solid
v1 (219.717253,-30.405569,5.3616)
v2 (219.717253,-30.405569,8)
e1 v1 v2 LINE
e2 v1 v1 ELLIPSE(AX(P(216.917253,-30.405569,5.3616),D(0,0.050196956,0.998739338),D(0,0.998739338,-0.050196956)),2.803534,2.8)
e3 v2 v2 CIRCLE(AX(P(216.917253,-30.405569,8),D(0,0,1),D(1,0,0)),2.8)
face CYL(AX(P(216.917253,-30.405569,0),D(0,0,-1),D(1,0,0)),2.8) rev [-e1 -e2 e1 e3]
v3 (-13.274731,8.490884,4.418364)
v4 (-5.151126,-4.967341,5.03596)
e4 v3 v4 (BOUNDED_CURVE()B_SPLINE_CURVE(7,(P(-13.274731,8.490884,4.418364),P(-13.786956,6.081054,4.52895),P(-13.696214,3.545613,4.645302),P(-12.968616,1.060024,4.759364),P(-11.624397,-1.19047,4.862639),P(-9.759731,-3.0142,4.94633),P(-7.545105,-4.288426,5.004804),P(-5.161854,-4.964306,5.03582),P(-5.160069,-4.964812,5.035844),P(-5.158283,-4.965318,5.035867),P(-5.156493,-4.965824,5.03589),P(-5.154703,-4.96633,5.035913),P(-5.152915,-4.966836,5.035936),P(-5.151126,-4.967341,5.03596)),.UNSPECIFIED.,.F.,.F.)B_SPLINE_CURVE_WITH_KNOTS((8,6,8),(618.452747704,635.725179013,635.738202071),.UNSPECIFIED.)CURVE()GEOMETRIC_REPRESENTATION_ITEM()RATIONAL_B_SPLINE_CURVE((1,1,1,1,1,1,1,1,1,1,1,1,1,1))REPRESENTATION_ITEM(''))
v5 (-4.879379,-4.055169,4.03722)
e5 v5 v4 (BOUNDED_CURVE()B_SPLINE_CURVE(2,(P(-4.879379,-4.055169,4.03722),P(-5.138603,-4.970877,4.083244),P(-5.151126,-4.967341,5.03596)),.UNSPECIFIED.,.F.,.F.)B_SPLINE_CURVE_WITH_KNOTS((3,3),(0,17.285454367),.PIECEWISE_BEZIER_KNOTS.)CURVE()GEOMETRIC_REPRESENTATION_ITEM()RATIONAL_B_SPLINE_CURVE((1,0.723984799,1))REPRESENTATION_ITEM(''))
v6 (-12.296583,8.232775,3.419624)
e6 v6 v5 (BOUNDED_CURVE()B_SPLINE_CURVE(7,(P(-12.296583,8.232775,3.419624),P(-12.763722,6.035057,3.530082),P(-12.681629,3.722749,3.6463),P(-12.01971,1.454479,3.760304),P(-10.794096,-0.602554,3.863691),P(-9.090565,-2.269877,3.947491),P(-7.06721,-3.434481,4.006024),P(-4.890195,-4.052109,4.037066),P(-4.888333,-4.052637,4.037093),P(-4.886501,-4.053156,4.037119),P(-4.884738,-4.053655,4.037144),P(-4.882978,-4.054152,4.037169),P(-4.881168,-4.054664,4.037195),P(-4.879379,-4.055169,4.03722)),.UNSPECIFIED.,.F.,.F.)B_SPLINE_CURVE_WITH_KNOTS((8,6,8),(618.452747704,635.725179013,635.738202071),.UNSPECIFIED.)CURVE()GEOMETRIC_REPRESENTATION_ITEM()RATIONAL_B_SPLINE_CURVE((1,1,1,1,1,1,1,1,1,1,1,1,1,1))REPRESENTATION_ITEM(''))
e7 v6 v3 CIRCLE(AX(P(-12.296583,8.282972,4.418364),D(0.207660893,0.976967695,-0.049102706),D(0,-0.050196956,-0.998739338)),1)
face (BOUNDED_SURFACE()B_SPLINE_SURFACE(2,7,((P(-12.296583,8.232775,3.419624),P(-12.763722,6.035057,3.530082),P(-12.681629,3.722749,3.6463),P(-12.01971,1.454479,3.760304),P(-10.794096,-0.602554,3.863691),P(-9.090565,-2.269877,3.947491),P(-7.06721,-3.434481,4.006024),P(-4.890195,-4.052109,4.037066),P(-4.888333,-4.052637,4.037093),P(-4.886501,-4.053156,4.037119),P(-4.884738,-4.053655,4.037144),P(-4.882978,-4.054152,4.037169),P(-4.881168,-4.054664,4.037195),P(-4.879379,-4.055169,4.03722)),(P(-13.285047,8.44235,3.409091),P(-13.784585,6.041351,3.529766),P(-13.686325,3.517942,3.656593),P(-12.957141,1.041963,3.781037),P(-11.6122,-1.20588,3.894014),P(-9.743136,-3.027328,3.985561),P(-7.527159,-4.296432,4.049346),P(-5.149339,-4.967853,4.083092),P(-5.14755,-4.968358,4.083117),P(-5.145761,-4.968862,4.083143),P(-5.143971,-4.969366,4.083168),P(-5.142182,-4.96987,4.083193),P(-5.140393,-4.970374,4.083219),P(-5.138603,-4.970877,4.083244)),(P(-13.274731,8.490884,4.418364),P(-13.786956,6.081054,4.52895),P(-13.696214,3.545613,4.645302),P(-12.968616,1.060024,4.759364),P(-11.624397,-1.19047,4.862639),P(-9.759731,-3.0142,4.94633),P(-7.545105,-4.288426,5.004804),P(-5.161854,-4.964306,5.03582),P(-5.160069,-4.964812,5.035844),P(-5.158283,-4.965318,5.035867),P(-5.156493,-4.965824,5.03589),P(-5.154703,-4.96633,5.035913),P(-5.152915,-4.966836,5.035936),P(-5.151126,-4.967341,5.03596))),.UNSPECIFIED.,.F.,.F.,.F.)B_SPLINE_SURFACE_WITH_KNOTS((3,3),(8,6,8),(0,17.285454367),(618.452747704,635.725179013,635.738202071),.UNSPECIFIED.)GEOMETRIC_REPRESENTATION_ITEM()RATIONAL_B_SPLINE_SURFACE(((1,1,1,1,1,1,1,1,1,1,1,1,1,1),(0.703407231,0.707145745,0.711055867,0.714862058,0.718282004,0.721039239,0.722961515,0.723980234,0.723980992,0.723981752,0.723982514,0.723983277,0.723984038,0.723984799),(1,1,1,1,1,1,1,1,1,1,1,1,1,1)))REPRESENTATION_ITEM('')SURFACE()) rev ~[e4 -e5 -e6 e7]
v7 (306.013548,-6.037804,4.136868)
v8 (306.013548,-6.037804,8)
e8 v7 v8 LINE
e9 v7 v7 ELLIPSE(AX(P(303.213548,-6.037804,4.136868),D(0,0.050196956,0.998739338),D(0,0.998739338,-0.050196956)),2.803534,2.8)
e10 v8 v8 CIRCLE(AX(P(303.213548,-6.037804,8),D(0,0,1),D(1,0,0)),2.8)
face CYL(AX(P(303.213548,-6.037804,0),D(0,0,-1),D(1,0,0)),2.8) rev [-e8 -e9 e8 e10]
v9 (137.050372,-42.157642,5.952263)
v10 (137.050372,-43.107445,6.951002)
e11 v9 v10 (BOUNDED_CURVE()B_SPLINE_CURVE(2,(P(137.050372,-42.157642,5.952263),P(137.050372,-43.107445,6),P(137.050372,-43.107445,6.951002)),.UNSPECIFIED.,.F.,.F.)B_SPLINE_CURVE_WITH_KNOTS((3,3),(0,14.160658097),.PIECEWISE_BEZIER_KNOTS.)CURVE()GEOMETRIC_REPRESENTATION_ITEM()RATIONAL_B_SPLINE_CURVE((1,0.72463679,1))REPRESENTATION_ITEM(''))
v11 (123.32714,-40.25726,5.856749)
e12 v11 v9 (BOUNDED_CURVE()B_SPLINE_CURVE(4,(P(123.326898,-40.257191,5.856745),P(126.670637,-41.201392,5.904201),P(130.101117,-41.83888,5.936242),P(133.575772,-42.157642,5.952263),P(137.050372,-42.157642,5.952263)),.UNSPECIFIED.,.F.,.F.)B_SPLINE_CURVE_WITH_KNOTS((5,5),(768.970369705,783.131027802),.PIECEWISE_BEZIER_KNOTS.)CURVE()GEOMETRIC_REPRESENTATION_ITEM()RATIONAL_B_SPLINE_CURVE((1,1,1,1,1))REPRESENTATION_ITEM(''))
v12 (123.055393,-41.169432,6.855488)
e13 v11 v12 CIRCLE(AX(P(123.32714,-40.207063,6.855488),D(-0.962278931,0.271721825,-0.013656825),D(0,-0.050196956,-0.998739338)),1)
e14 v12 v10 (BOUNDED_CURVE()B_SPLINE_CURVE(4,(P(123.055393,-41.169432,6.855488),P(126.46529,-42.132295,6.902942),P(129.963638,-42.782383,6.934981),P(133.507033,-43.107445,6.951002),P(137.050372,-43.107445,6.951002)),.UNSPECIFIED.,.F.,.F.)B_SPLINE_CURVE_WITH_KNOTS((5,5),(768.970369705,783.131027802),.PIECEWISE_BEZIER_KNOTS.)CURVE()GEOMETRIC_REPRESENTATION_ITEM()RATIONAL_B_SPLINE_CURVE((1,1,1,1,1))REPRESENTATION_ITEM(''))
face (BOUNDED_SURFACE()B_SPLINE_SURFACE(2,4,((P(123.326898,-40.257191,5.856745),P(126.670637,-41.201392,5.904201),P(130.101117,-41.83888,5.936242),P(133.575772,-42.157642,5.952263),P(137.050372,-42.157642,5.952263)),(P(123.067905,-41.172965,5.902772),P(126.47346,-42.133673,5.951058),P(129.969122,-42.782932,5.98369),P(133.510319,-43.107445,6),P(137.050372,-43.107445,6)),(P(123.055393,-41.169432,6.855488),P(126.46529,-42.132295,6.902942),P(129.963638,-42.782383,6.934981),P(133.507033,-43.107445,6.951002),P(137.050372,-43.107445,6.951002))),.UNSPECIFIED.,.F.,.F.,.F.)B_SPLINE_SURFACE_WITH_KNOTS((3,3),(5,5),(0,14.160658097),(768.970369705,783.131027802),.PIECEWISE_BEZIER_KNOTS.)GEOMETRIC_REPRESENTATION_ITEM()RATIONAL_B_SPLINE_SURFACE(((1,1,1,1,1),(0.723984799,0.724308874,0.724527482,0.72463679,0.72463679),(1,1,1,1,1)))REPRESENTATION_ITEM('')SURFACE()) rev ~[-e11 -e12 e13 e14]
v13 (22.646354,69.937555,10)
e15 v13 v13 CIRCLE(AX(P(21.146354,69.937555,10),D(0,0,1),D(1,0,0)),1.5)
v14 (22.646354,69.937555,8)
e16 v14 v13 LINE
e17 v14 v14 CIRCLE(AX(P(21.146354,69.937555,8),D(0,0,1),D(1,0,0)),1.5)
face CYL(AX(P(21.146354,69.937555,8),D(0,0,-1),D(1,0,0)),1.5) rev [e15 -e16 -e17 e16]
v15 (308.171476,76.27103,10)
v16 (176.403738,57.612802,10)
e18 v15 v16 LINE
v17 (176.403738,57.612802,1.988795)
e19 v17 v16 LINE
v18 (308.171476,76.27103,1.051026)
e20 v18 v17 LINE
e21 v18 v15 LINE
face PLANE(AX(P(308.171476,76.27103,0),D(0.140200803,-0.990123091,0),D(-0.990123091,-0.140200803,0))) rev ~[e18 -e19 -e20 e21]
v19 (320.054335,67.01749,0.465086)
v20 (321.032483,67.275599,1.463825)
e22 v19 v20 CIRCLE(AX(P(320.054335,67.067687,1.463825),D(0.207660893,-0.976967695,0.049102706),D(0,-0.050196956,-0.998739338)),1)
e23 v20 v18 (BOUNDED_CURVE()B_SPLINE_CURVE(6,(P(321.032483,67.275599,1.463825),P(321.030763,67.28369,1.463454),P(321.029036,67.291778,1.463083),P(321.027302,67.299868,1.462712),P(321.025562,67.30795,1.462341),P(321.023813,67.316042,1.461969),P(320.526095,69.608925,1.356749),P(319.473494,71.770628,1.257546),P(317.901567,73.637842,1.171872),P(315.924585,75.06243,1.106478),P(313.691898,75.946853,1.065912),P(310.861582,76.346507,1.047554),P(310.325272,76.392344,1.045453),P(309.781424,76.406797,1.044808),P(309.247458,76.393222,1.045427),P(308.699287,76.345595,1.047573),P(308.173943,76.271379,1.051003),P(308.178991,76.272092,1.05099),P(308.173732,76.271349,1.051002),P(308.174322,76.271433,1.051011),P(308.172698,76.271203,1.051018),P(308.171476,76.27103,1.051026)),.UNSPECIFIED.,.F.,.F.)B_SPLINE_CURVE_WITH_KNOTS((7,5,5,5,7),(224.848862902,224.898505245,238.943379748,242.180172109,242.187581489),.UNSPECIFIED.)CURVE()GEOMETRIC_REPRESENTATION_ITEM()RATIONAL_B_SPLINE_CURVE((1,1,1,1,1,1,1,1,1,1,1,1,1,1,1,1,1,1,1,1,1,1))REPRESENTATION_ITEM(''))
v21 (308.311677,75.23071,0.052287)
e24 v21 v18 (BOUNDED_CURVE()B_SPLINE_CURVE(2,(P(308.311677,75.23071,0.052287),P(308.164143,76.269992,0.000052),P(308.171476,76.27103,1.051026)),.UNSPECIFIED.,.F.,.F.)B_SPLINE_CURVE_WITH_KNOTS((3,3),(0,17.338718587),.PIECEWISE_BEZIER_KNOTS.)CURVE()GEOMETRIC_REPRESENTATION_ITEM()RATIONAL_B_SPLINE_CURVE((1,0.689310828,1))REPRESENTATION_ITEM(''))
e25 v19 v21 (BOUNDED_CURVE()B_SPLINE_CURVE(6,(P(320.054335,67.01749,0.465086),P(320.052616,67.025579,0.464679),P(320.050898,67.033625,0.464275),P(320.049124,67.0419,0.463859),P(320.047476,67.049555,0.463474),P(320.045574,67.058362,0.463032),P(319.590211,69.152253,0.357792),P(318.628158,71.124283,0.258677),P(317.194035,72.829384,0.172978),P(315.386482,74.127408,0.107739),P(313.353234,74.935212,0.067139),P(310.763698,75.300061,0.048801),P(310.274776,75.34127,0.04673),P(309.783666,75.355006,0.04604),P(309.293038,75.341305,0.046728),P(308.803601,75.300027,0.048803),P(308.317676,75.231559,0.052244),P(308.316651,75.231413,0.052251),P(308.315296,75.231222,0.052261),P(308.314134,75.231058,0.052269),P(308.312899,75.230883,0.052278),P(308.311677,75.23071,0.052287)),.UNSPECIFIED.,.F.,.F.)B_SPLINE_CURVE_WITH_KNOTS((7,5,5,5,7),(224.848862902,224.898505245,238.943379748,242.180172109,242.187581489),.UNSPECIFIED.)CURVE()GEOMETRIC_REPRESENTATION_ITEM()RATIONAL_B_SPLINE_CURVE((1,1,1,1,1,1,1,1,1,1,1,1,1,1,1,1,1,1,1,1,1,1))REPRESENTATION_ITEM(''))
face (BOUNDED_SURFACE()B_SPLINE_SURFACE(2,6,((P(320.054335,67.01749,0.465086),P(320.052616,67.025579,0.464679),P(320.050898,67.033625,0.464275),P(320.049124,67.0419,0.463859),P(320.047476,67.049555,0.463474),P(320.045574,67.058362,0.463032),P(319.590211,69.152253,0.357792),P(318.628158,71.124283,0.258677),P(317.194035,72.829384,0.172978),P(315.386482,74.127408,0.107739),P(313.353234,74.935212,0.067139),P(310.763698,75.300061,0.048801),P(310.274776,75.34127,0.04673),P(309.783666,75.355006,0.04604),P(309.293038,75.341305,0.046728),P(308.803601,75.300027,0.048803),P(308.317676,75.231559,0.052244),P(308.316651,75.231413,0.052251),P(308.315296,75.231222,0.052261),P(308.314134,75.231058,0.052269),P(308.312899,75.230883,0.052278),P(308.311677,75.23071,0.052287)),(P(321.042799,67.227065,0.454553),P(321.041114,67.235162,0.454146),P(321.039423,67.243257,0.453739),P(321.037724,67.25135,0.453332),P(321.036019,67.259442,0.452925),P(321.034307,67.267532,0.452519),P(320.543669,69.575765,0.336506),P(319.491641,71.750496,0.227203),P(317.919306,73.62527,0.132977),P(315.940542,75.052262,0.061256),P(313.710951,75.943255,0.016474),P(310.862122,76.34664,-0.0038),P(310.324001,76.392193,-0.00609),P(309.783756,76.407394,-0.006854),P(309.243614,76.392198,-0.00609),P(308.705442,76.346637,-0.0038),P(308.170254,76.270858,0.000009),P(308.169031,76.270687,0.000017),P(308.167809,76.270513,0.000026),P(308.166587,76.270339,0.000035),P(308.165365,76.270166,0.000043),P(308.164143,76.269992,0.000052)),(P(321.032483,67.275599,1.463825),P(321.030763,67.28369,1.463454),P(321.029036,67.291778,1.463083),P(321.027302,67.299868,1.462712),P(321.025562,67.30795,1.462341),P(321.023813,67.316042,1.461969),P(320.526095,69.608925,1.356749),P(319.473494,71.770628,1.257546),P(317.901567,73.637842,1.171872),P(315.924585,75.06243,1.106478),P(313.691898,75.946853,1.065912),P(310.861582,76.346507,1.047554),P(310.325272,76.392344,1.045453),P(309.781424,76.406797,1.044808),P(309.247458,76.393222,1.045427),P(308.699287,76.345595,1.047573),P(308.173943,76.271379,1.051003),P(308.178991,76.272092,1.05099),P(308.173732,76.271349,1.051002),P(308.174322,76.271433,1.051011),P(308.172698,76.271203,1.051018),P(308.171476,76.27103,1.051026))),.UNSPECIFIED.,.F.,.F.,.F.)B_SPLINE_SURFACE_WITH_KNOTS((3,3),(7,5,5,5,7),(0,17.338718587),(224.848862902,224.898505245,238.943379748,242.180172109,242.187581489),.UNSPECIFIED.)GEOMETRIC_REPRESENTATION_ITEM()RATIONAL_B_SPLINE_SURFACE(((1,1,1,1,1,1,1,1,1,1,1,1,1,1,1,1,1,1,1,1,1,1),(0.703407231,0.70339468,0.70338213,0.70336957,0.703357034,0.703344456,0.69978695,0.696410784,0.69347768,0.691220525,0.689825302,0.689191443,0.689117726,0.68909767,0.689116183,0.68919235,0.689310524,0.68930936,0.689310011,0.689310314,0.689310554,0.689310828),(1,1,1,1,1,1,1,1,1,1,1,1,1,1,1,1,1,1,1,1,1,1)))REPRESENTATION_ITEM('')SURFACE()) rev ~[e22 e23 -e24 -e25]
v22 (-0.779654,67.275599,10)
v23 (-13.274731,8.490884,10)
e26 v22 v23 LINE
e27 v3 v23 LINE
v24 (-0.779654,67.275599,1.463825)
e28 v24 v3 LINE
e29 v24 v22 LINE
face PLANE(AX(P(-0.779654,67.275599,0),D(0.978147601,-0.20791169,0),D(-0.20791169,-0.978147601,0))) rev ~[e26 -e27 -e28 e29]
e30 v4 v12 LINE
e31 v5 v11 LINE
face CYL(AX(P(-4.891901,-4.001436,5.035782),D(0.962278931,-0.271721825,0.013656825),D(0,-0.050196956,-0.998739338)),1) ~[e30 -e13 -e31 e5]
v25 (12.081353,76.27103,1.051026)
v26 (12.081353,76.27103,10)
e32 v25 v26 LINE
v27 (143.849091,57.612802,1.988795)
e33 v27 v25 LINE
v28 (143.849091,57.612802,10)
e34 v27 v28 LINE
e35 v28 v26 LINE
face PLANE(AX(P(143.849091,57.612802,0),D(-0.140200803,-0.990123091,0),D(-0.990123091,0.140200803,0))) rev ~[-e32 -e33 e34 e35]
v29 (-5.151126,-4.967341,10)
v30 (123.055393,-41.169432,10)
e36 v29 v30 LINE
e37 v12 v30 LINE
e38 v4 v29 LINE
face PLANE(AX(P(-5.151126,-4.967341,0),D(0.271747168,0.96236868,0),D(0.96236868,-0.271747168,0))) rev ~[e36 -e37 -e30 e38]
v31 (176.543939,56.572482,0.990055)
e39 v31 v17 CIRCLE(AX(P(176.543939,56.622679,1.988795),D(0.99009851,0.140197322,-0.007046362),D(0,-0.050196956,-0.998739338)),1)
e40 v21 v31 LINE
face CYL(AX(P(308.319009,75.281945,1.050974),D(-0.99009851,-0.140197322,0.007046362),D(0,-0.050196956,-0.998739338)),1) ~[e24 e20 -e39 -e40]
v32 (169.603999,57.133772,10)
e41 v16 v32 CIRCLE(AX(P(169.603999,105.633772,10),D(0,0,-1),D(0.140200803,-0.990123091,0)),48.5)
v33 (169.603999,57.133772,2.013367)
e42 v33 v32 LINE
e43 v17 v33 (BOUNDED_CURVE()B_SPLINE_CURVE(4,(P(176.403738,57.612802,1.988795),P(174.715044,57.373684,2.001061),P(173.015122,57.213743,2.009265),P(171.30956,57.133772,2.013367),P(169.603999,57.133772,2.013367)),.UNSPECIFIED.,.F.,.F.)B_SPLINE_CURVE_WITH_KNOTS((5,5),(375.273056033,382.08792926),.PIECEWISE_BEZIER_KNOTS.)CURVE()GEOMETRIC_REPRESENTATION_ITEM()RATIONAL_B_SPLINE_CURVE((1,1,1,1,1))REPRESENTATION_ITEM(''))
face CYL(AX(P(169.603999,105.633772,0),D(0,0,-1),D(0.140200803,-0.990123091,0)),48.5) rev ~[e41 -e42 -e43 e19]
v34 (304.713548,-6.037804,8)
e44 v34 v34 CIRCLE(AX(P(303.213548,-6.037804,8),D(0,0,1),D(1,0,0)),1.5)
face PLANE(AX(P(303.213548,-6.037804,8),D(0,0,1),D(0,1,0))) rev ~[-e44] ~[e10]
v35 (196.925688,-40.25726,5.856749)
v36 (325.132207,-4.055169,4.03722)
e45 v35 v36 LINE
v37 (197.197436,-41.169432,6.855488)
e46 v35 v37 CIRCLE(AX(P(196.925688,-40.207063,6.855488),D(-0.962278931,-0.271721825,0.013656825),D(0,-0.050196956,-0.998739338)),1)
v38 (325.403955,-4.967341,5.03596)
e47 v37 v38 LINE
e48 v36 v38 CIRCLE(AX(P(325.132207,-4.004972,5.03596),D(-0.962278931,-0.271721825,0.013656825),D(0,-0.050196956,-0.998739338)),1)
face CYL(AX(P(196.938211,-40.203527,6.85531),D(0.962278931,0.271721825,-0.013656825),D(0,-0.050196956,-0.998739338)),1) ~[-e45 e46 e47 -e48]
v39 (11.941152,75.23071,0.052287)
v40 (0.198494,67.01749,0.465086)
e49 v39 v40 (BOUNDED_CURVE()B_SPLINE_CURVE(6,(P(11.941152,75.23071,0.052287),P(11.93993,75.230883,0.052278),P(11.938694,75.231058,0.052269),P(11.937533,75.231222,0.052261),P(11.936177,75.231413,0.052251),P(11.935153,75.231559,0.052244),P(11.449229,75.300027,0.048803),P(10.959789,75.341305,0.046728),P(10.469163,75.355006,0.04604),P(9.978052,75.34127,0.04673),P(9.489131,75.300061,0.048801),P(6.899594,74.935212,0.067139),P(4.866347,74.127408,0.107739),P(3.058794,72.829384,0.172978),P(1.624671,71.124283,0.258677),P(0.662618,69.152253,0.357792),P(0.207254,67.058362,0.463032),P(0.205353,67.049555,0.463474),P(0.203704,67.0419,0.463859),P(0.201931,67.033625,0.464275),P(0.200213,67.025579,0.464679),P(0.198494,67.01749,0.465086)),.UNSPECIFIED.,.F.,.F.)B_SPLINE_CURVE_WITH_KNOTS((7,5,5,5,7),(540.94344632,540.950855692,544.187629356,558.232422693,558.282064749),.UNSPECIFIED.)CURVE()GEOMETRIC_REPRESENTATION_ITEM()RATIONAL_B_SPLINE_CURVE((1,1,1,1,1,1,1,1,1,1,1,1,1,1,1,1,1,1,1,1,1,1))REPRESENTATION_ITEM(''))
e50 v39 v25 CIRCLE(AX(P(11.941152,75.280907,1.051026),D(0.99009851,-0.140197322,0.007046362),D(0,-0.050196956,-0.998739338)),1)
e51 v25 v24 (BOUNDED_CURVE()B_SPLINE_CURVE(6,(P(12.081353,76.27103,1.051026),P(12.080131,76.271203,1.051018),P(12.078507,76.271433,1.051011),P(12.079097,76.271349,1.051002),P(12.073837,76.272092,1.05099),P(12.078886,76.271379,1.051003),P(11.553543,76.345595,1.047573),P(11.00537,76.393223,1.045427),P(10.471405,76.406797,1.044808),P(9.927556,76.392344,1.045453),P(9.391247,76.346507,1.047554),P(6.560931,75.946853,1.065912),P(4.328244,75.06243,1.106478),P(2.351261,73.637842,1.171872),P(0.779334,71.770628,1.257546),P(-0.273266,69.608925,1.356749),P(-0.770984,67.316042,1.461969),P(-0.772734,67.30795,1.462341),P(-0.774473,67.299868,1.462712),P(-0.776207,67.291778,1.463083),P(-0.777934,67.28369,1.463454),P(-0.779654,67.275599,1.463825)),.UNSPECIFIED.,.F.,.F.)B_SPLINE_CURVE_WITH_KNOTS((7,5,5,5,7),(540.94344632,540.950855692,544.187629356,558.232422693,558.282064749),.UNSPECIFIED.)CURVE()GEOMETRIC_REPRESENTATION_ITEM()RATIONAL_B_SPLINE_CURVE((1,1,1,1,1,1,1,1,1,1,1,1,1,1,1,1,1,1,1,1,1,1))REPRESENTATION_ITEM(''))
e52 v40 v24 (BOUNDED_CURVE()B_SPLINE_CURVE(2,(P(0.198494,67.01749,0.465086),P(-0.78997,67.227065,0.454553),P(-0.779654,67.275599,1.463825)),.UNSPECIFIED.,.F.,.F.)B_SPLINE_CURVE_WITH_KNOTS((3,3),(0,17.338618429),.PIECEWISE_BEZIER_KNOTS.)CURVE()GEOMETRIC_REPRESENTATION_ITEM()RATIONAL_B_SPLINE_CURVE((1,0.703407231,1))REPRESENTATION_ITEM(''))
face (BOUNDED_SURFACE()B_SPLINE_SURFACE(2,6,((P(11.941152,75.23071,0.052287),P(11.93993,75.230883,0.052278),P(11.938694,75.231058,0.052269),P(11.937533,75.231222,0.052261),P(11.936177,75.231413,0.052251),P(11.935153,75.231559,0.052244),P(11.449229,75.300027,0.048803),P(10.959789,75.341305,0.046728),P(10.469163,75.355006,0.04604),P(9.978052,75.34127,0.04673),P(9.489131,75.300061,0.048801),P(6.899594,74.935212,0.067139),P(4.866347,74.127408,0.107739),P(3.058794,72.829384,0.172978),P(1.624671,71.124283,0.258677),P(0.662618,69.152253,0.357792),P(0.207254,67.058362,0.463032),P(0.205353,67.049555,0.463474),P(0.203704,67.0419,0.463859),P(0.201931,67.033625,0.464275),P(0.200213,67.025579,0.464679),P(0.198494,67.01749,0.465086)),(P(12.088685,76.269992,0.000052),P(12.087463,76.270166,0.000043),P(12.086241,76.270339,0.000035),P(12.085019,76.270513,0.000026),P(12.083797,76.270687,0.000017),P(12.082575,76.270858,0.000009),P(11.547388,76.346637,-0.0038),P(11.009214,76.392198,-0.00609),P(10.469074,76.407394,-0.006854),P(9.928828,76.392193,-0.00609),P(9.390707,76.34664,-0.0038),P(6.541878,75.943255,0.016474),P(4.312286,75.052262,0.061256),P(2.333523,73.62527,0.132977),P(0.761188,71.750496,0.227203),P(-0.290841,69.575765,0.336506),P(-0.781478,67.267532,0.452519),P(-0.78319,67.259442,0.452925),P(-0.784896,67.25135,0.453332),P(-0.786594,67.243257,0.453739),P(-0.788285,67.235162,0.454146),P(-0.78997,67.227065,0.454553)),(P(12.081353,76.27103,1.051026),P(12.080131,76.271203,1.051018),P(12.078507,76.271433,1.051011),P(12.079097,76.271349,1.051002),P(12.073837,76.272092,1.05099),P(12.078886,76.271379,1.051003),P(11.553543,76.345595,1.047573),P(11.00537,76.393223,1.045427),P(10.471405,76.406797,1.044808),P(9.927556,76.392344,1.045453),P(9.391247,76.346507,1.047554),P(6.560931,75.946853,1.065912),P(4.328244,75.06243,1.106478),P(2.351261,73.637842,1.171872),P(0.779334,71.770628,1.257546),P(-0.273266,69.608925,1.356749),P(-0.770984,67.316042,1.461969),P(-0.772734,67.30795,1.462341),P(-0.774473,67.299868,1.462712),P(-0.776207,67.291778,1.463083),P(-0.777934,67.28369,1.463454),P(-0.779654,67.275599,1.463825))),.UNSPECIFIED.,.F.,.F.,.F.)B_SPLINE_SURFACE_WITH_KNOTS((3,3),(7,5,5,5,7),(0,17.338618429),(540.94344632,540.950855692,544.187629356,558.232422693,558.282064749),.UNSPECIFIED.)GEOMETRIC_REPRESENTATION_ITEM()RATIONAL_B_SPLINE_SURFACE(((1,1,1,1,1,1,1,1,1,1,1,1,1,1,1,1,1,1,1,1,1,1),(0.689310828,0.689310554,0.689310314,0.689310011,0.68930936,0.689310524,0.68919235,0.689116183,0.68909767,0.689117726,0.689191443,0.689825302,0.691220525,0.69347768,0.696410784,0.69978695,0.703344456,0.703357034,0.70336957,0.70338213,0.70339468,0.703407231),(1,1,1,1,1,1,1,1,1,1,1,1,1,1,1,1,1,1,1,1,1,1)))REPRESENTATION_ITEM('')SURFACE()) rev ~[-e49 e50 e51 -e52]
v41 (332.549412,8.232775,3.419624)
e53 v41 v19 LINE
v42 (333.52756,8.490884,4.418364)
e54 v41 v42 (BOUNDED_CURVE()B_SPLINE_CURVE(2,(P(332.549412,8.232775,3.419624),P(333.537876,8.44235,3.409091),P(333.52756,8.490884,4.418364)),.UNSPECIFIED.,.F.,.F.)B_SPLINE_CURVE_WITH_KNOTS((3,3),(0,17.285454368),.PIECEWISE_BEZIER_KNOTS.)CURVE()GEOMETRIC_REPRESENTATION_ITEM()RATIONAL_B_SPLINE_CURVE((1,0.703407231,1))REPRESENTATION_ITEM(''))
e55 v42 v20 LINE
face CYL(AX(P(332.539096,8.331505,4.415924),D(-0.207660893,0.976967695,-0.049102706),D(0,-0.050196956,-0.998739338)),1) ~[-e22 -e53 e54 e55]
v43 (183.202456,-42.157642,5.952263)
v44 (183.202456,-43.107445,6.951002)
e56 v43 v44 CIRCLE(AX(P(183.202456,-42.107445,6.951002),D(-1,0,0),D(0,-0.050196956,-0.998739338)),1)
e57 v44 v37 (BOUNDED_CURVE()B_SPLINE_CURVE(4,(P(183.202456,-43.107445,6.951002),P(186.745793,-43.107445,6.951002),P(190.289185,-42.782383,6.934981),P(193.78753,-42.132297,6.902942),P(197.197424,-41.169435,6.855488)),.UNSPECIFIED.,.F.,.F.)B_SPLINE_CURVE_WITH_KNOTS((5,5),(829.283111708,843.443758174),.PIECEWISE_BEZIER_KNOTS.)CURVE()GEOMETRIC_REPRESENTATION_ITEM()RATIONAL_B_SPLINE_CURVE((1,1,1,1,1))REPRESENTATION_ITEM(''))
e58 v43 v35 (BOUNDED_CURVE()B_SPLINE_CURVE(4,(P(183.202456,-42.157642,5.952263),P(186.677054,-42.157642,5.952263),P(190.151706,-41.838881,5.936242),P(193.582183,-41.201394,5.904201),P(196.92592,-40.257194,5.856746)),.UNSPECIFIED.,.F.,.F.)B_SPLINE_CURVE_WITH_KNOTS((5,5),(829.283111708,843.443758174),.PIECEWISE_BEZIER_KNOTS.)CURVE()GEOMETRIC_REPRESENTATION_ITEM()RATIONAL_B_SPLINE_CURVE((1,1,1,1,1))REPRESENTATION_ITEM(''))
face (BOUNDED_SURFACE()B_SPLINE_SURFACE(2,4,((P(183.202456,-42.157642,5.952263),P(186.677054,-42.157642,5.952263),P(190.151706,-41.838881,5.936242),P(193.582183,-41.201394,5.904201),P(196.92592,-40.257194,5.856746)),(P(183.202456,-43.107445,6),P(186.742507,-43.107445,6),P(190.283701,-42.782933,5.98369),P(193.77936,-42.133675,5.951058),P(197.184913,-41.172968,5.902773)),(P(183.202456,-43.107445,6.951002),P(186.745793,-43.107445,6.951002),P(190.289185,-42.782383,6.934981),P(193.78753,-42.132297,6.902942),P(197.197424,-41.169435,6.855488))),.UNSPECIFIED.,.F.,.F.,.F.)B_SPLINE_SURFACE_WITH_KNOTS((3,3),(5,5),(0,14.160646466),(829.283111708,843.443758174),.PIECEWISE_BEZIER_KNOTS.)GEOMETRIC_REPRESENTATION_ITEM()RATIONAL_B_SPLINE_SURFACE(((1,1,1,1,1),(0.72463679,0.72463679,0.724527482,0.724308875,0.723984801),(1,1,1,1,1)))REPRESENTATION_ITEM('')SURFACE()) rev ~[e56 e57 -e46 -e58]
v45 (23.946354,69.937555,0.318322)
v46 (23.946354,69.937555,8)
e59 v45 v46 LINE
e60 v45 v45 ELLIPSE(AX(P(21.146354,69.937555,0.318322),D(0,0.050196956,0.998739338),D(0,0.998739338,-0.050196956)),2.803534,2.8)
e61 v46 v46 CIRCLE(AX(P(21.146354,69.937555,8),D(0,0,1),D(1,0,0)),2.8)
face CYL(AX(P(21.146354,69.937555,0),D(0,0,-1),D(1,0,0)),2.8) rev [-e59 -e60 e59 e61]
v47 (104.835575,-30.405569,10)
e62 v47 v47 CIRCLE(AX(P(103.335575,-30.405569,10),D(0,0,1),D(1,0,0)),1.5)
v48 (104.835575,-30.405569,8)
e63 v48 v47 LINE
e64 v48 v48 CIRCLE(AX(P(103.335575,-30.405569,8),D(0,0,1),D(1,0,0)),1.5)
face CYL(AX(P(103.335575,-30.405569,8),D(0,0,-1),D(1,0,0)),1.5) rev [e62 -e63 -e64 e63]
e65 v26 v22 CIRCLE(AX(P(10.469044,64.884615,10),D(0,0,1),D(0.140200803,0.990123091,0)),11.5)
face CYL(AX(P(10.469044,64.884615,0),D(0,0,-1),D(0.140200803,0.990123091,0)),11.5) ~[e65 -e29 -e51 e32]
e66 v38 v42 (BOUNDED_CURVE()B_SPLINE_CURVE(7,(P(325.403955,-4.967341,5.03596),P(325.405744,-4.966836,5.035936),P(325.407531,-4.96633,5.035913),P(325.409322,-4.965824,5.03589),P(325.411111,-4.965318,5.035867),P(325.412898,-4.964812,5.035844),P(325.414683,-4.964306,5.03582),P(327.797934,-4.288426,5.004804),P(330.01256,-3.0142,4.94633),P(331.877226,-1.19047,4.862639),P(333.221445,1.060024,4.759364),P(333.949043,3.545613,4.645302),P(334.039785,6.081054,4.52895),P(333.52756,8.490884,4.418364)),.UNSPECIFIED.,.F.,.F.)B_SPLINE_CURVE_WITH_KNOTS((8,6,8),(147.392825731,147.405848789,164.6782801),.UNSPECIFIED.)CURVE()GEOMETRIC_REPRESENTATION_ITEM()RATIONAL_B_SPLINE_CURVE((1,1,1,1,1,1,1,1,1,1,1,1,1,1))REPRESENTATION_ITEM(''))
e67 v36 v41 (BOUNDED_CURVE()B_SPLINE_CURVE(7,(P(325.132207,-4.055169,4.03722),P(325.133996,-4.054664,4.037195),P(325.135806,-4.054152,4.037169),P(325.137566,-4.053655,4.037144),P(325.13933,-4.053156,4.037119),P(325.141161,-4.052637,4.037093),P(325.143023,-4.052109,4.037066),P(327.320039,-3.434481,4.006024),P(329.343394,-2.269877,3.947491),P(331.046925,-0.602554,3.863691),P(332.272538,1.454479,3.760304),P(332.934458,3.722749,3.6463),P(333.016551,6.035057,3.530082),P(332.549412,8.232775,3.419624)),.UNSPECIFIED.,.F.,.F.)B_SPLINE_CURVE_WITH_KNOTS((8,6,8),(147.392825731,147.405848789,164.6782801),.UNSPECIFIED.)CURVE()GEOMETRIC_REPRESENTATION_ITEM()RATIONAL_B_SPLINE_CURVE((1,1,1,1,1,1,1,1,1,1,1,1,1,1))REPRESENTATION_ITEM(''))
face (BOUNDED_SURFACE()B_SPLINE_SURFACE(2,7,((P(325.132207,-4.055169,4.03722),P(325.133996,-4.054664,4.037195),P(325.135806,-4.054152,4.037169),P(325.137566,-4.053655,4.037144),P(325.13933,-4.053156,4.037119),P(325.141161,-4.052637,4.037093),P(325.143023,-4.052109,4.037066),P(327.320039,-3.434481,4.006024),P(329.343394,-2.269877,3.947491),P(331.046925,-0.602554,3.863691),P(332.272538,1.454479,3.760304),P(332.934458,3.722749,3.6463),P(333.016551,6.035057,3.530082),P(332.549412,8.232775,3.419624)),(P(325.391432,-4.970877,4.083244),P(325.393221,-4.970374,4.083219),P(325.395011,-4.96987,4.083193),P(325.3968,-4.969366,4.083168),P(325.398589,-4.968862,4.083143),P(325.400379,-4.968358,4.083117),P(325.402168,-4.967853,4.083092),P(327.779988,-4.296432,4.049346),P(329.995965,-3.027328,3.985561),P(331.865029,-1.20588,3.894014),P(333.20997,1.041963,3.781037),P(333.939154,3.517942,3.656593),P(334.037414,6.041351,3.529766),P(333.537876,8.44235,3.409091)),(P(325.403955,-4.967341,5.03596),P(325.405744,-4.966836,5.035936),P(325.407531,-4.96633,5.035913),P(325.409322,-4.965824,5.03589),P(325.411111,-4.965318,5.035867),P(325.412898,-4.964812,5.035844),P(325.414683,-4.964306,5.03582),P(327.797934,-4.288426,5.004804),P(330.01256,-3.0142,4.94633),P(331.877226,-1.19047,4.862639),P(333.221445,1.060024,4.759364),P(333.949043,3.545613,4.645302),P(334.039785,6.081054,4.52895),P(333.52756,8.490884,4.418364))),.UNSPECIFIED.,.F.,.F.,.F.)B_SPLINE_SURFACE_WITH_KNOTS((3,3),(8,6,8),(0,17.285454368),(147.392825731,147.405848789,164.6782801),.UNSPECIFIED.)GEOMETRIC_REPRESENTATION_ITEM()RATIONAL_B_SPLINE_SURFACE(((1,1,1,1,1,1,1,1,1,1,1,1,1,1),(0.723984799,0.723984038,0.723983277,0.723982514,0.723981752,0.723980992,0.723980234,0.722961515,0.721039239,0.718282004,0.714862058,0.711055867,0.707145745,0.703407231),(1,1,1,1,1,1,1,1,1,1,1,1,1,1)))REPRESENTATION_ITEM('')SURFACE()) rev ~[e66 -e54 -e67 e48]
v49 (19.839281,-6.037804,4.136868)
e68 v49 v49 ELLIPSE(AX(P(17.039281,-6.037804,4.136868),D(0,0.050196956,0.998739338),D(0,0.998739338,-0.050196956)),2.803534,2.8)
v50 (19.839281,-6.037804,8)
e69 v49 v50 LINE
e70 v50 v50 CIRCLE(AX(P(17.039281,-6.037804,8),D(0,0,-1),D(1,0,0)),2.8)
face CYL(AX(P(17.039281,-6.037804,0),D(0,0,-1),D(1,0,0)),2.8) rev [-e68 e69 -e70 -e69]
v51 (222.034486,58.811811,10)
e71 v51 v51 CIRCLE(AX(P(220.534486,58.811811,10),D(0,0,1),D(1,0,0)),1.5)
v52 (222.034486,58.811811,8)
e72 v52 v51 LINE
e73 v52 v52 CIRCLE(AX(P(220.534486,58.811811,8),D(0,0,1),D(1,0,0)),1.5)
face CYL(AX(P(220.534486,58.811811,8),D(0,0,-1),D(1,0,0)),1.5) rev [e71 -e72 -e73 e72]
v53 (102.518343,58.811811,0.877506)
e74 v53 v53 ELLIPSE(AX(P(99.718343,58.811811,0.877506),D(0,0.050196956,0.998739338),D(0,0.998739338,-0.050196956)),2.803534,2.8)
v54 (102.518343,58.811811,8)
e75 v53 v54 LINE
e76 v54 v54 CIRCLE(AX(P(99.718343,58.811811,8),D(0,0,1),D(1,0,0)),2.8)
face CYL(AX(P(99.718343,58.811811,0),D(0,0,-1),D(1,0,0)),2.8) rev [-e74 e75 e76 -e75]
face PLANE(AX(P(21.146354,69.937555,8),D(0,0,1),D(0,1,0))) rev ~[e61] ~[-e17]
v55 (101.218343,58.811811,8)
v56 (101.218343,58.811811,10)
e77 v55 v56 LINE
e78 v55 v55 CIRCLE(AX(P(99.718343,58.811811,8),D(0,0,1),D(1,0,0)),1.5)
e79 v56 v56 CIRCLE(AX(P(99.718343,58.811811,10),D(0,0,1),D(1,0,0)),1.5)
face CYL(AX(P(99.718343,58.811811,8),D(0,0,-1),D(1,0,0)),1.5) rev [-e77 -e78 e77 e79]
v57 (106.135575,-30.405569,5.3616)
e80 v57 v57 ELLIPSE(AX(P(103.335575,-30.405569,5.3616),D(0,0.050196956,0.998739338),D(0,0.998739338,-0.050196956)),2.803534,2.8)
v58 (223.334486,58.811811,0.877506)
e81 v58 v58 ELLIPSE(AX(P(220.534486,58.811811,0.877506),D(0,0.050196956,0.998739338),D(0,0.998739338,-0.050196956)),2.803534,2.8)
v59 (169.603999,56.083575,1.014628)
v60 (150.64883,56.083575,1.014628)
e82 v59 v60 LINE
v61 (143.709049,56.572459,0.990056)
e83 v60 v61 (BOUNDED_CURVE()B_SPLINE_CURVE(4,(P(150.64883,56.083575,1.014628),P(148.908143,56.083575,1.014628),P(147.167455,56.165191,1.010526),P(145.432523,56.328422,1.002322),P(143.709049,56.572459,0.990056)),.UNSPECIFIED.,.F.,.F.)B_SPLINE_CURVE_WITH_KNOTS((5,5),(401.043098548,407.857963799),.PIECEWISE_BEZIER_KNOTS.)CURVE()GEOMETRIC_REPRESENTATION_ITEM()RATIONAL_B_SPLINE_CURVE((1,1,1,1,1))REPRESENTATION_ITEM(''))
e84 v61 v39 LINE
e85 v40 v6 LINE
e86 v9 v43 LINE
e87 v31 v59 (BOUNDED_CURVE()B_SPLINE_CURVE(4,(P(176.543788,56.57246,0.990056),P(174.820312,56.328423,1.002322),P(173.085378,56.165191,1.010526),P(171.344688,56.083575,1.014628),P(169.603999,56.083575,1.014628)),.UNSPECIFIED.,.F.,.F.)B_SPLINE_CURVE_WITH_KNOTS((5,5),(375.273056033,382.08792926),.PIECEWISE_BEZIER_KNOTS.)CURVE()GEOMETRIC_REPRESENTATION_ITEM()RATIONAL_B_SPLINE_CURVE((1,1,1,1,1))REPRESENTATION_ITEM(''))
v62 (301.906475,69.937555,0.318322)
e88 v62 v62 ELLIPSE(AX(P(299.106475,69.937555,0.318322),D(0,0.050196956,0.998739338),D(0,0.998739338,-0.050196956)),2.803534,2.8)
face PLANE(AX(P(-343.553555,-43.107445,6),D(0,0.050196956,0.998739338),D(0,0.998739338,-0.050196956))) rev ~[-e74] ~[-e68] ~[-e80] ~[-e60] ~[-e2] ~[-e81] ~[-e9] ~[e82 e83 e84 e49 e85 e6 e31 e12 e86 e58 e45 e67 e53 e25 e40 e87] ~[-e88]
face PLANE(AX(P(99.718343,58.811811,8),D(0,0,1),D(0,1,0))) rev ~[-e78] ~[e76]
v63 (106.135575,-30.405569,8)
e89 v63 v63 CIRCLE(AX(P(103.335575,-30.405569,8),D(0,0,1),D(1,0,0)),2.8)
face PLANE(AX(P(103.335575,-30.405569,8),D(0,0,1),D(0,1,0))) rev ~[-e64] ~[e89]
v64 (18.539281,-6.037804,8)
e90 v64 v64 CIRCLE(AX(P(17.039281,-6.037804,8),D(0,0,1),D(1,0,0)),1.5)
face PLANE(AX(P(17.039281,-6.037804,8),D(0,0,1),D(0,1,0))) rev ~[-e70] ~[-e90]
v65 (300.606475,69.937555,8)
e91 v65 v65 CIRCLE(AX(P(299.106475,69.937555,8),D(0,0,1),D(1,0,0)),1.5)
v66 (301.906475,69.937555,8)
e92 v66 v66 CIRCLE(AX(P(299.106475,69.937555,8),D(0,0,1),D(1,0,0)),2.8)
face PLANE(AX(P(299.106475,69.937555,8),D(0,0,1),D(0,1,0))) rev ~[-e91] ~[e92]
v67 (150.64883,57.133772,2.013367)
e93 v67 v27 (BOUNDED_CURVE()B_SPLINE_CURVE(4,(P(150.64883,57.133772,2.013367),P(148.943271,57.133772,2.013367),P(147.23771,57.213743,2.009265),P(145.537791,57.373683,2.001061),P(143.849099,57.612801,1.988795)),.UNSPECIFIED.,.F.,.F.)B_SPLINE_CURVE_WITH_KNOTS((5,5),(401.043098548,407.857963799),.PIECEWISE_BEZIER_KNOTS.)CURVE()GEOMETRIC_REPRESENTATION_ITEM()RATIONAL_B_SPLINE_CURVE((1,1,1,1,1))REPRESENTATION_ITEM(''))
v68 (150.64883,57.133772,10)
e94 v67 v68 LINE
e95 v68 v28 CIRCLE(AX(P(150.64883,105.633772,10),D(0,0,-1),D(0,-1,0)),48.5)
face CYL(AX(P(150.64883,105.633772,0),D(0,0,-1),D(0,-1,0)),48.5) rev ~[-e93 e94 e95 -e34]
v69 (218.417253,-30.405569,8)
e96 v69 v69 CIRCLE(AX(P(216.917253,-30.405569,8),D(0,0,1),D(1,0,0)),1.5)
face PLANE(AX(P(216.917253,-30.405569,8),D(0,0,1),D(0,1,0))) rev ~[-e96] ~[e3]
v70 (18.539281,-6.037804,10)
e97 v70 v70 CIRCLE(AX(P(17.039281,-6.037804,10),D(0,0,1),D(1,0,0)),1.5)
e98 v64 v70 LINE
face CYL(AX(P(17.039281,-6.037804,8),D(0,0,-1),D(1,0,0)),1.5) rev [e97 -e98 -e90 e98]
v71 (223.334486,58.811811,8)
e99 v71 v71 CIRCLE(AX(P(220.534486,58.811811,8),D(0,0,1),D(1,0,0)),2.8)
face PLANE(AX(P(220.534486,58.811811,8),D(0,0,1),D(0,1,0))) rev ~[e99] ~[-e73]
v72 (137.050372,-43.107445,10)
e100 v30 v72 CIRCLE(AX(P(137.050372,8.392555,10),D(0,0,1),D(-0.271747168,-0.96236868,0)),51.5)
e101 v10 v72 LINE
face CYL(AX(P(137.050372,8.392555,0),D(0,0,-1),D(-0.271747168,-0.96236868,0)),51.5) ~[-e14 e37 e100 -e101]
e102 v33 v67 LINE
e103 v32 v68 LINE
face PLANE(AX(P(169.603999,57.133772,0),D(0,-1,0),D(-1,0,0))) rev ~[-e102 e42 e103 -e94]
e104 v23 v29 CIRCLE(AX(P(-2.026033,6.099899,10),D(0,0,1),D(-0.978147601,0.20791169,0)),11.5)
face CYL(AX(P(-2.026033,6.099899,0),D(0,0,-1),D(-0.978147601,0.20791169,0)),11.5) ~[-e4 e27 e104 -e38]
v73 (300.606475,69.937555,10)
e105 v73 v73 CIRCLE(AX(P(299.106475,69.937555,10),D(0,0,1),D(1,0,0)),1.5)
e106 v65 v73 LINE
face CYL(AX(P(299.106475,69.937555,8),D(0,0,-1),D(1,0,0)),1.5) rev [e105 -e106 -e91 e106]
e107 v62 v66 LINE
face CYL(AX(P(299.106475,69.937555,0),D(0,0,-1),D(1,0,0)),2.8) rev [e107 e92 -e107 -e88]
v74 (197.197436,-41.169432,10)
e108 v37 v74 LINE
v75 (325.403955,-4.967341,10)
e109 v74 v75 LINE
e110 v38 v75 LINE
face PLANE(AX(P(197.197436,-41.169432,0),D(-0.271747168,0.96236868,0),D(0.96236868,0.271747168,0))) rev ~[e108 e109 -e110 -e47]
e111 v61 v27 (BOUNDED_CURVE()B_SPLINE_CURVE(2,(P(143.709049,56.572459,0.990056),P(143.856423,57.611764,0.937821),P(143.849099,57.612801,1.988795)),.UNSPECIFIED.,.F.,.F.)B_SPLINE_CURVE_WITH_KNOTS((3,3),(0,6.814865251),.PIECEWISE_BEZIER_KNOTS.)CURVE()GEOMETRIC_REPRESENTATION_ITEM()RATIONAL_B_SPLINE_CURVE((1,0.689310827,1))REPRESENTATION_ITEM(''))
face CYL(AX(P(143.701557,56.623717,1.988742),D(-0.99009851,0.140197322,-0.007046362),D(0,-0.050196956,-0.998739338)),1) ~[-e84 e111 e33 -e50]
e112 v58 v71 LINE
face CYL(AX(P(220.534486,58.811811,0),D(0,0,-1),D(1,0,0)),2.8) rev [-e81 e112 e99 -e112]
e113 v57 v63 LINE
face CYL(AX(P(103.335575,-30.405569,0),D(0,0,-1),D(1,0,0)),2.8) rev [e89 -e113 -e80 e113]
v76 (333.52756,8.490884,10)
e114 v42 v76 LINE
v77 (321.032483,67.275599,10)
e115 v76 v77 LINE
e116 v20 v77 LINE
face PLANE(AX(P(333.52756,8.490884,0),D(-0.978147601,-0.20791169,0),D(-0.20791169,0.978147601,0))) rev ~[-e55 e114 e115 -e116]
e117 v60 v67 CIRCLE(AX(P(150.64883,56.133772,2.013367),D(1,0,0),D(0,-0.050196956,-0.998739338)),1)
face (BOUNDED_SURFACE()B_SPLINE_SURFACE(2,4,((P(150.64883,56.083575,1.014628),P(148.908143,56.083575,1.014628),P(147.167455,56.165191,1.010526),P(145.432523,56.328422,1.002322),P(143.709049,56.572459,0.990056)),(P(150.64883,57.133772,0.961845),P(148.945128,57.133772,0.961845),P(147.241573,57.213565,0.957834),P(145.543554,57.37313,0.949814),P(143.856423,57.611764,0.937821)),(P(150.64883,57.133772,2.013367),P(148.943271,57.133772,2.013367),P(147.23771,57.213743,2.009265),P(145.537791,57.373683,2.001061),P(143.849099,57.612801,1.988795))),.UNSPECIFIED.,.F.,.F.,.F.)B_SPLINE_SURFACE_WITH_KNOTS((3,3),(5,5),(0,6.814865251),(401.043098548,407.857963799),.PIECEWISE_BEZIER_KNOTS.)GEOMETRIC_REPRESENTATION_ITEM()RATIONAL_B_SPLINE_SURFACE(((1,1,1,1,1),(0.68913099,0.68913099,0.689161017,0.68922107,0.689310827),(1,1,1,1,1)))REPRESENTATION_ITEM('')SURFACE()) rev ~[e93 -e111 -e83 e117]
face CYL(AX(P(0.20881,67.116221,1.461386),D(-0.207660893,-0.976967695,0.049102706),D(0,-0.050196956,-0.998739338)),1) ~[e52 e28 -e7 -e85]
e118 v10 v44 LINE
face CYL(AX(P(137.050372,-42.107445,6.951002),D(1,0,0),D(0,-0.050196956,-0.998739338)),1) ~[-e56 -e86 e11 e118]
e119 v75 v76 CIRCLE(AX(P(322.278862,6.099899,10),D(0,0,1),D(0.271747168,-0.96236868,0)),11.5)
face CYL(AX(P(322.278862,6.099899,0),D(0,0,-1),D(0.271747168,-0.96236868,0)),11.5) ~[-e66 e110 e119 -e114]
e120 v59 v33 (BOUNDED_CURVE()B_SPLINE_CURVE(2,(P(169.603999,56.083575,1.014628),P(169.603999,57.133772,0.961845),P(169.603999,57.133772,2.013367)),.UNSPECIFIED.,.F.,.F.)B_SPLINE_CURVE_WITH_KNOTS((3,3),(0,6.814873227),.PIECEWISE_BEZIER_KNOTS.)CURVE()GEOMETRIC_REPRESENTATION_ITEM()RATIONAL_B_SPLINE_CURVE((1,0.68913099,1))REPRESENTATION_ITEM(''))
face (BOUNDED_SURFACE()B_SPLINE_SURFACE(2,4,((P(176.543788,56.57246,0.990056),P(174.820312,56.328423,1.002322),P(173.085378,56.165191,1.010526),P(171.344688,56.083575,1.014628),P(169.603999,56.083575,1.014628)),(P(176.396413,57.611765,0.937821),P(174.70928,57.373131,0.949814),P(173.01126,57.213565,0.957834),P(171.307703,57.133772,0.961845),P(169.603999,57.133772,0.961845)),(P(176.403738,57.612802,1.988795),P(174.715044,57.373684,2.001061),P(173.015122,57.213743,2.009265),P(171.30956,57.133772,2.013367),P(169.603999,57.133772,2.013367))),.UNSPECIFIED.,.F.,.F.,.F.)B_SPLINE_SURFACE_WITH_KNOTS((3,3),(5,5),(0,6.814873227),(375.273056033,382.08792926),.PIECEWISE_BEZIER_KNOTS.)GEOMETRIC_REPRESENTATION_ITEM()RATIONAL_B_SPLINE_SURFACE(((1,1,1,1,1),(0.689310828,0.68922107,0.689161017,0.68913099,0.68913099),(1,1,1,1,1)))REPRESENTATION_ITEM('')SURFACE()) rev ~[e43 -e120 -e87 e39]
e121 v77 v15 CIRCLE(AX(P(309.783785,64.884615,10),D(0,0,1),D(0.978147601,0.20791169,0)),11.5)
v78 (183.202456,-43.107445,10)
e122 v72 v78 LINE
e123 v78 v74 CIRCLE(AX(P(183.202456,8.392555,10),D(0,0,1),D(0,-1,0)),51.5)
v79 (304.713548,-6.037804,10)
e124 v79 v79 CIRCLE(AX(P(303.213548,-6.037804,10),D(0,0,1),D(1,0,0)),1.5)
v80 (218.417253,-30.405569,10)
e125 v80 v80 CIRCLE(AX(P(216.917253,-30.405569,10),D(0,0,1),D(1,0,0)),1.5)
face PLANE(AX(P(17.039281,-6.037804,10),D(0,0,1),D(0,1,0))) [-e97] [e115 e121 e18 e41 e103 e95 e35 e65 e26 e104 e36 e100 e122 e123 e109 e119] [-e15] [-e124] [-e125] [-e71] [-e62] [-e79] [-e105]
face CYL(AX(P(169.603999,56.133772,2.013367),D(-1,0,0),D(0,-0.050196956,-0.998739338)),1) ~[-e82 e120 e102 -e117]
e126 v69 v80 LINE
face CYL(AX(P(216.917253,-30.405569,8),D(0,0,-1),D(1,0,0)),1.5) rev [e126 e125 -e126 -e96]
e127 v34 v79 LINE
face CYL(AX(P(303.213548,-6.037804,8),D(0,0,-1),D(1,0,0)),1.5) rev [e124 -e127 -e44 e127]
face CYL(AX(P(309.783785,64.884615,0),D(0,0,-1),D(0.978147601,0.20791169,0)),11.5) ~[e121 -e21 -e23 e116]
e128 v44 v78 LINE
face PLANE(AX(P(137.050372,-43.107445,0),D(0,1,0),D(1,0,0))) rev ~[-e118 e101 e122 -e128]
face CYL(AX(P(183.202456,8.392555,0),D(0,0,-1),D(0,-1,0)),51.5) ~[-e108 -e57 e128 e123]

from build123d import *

# Parameters (mm, degrees)
MODEL_R                 = 2.8
BOSS_EXTRUDE1_DEPTH     = 10
CUT_EXTRUDE1_DEPTH      = 343.553555131
CUT_EXTRUDE1_DEPTH_BACK = 343.553555131
BOSS_EXTRUDE2_START     = 8
MODEL_3_R               = 2.8
MODEL_3_R_2             = 1.5
BOSS_EXTRUDE2_DEPTH     = 2
FILLET1_R               = 1


with BuildPart() as part:
    # Model → Boss-Extrude1 (new body)
    with BuildSketch(Plane.XY):
        with BuildLine():
            ThreePointArc((176.403737975, 57.612801897), (173.012294783, 57.253677545), (169.603999044, 57.1337718))
            Line((169.603999044, 57.1337718), (150.648829756, 57.1337718))
            ThreePointArc((150.648829756, 57.1337718), (147.240534017, 57.253677545), (143.849090824, 57.612801897))
            Line((143.849090824, 57.612801897), (12.081352867, 76.271030157))
            ThreePointArc((12.081352867, 76.271030157), (3.877804033, 74.308284837), (-0.779653775, 67.275599046))
            Line((-0.779653775, 67.275599046), (-13.274730709, 8.490883588))
            ThreePointArc((-13.274730709, 8.490883588), (-11.871459071, 0.157038619), (-5.151125733, -4.967340667))
            Line((-5.151125733, -4.967340667), (123.055393281, -41.169431628))
            ThreePointArc((123.055393281, -41.169431628), (129.986107868, -42.620640598), (137.050372447, -43.1074446))
            Line((137.050372447, -43.1074446), (183.202456353, -43.1074446))
            ThreePointArc((183.202456353, -43.1074446), (190.266720932, -42.620640598), (197.197435519, -41.169431628))
            Line((197.197435519, -41.169431628), (325.403954533, -4.967340667))
            ThreePointArc((325.403954533, -4.967340667), (332.124287871, 0.157038619), (333.527559509, 8.490883588))
            Line((333.527559509, 8.490883588), (321.032482575, 67.275599045))
            ThreePointArc((321.032482575, 67.275599045), (316.375024767, 74.308284836), (308.171475933, 76.271030156))
            Line((308.171475933, 76.271030156), (176.403737975, 57.612801897))
        make_face()
        with Locations((103.335575354, -30.405568574)):
            Circle(MODEL_R, mode=Mode.SUBTRACT)
        with Locations((17.039281052, -6.037803815)):
            Circle(MODEL_R, mode=Mode.SUBTRACT)
        with Locations((216.917253446, -30.405568574)):
            Circle(MODEL_R, mode=Mode.SUBTRACT)
        with Locations((303.213547748, -6.037803815)):
            Circle(MODEL_R, mode=Mode.SUBTRACT)
        with Locations((21.146353911, 69.937554571)):
            Circle(MODEL_R, mode=Mode.SUBTRACT)
        with Locations((99.718342652, 58.811810716)):
            Circle(MODEL_R, mode=Mode.SUBTRACT)
        with Locations((220.534486148, 58.811810716)):
            Circle(MODEL_R, mode=Mode.SUBTRACT)
        with Locations((299.10647489, 69.93755457)):
            Circle(MODEL_R, mode=Mode.SUBTRACT)
    extrude(amount=BOSS_EXTRUDE1_DEPTH)

    # Sketch2 → Cut-Extrude1 (cut, two sides: drawn at the far end of the back side and taken through both)
    with BuildSketch(Plane(origin=(0, 0, 0), x_dir=(0, 0, -1), z_dir=(1, 0, 0)).offset(-CUT_EXTRUDE1_DEPTH_BACK)):
        Polygon((0, -43.1074446), (-6, -43.1074446), (0, 76.271030156), align=None)
    extrude(amount=CUT_EXTRUDE1_DEPTH + CUT_EXTRUDE1_DEPTH_BACK, mode=Mode.SUBTRACT)

    # Model<3> → Boss-Extrude2 (add)
    # profile 1 of 8: a face of its own
    with BuildSketch(Plane.XY.offset(BOSS_EXTRUDE2_START)):
        with Locations(Location((17.039281052, -6.037803815, 0), (0, 0, 90))):
            Circle(MODEL_3_R)
        with Locations((17.039281052, -6.037803815)):
            Circle(MODEL_3_R_2, mode=Mode.SUBTRACT)
    # profile 2 of 8: a face of its own
    with BuildSketch(Plane.XY.offset(BOSS_EXTRUDE2_START)):
        with Locations(Location((103.335575354, -30.405568574, 0), (0, 0, 90))):
            Circle(MODEL_3_R)
        with Locations((103.335575354, -30.405568574)):
            Circle(MODEL_3_R_2, mode=Mode.SUBTRACT)
    # profile 3 of 8: a face of its own
    with BuildSketch(Plane.XY.offset(BOSS_EXTRUDE2_START)):
        with Locations(Location((216.917253446, -30.405568574, 0), (0, 0, 90))):
            Circle(MODEL_3_R)
        with Locations((216.917253446, -30.405568574)):
            Circle(MODEL_3_R_2, mode=Mode.SUBTRACT)
    # profile 4 of 8: a face of its own
    with BuildSketch(Plane.XY.offset(BOSS_EXTRUDE2_START)):
        with Locations(Location((303.213547748, -6.037803815, 0), (0, 0, 90))):
            Circle(MODEL_3_R)
        with Locations((303.213547748, -6.037803815)):
            Circle(MODEL_3_R_2, mode=Mode.SUBTRACT)
    # profile 5 of 8: a face of its own
    with BuildSketch(Plane.XY.offset(BOSS_EXTRUDE2_START)):
        with Locations(Location((299.10647489, 69.93755457, 0), (0, 0, 90))):
            Circle(MODEL_3_R)
        with Locations((299.10647489, 69.93755457)):
            Circle(MODEL_3_R_2, mode=Mode.SUBTRACT)
    # profile 6 of 8: a face of its own
    with BuildSketch(Plane.XY.offset(BOSS_EXTRUDE2_START)):
        with Locations(Location((220.534486148, 58.811810716, 0), (0, 0, 90))):
            Circle(MODEL_3_R)
        with Locations((220.534486148, 58.811810716)):
            Circle(MODEL_3_R_2, mode=Mode.SUBTRACT)
    # profile 7 of 8: a face of its own
    with BuildSketch(Plane.XY.offset(BOSS_EXTRUDE2_START)):
        with Locations(Location((99.718342652, 58.811810716, 0), (0, 0, 90))):
            Circle(MODEL_3_R)
        with Locations((99.718342652, 58.811810716)):
            Circle(MODEL_3_R_2, mode=Mode.SUBTRACT)
    # profile 8 of 8: a face of its own
    with BuildSketch(Plane.XY.offset(BOSS_EXTRUDE2_START)):
        with Locations(Location((21.146353911, 69.937554571, 0), (0, 0, 90))):
            Circle(MODEL_3_R)
        with Locations((21.146353911, 69.937554571)):
            Circle(MODEL_3_R_2, mode=Mode.SUBTRACT)
    extrude(amount=BOSS_EXTRUDE2_DEPTH)

    # Fillet1
    fillet1_edges = [part.edges().sort_by_distance(p)[0] for p in [
        (190.266885646, -42.620617789, 5.97553193),
        (160.1264144, -43.1074446, 6),
        (129.985943154, -42.620617789, 5.97553193),
        (58.952133774, -23.068386147, 4.992830567),
        (-11.873007386, 0.159604439, 3.825384394),
        (-7.027192242, 37.883241317, 1.929382441),
        (2.619961345, 73.289488627, 0.149853223),
        (77.96522185, 66.941916026, 0.468884235),
        (147.240512863, 57.253679035, 0.955818098),
        (160.1264144, 57.1337718, 0.961844674),
        (173.012315937, 57.253679035, 0.955818098),
        (242.287606954, 66.941916026, 0.468884235),
        (309.783785164, 76.384614612, 0),
        (317.632867453, 73.289488628, 0.149853223),
        (327.280021042, 37.883241316, 1.929382441),
        (332.125836186, 0.159604439, 3.825384394),
        (261.300695026, -23.068386147, 4.992830567),
    ]]
    fillet(fillet1_edges, radius=FILLET1_R)


solid = part.part
